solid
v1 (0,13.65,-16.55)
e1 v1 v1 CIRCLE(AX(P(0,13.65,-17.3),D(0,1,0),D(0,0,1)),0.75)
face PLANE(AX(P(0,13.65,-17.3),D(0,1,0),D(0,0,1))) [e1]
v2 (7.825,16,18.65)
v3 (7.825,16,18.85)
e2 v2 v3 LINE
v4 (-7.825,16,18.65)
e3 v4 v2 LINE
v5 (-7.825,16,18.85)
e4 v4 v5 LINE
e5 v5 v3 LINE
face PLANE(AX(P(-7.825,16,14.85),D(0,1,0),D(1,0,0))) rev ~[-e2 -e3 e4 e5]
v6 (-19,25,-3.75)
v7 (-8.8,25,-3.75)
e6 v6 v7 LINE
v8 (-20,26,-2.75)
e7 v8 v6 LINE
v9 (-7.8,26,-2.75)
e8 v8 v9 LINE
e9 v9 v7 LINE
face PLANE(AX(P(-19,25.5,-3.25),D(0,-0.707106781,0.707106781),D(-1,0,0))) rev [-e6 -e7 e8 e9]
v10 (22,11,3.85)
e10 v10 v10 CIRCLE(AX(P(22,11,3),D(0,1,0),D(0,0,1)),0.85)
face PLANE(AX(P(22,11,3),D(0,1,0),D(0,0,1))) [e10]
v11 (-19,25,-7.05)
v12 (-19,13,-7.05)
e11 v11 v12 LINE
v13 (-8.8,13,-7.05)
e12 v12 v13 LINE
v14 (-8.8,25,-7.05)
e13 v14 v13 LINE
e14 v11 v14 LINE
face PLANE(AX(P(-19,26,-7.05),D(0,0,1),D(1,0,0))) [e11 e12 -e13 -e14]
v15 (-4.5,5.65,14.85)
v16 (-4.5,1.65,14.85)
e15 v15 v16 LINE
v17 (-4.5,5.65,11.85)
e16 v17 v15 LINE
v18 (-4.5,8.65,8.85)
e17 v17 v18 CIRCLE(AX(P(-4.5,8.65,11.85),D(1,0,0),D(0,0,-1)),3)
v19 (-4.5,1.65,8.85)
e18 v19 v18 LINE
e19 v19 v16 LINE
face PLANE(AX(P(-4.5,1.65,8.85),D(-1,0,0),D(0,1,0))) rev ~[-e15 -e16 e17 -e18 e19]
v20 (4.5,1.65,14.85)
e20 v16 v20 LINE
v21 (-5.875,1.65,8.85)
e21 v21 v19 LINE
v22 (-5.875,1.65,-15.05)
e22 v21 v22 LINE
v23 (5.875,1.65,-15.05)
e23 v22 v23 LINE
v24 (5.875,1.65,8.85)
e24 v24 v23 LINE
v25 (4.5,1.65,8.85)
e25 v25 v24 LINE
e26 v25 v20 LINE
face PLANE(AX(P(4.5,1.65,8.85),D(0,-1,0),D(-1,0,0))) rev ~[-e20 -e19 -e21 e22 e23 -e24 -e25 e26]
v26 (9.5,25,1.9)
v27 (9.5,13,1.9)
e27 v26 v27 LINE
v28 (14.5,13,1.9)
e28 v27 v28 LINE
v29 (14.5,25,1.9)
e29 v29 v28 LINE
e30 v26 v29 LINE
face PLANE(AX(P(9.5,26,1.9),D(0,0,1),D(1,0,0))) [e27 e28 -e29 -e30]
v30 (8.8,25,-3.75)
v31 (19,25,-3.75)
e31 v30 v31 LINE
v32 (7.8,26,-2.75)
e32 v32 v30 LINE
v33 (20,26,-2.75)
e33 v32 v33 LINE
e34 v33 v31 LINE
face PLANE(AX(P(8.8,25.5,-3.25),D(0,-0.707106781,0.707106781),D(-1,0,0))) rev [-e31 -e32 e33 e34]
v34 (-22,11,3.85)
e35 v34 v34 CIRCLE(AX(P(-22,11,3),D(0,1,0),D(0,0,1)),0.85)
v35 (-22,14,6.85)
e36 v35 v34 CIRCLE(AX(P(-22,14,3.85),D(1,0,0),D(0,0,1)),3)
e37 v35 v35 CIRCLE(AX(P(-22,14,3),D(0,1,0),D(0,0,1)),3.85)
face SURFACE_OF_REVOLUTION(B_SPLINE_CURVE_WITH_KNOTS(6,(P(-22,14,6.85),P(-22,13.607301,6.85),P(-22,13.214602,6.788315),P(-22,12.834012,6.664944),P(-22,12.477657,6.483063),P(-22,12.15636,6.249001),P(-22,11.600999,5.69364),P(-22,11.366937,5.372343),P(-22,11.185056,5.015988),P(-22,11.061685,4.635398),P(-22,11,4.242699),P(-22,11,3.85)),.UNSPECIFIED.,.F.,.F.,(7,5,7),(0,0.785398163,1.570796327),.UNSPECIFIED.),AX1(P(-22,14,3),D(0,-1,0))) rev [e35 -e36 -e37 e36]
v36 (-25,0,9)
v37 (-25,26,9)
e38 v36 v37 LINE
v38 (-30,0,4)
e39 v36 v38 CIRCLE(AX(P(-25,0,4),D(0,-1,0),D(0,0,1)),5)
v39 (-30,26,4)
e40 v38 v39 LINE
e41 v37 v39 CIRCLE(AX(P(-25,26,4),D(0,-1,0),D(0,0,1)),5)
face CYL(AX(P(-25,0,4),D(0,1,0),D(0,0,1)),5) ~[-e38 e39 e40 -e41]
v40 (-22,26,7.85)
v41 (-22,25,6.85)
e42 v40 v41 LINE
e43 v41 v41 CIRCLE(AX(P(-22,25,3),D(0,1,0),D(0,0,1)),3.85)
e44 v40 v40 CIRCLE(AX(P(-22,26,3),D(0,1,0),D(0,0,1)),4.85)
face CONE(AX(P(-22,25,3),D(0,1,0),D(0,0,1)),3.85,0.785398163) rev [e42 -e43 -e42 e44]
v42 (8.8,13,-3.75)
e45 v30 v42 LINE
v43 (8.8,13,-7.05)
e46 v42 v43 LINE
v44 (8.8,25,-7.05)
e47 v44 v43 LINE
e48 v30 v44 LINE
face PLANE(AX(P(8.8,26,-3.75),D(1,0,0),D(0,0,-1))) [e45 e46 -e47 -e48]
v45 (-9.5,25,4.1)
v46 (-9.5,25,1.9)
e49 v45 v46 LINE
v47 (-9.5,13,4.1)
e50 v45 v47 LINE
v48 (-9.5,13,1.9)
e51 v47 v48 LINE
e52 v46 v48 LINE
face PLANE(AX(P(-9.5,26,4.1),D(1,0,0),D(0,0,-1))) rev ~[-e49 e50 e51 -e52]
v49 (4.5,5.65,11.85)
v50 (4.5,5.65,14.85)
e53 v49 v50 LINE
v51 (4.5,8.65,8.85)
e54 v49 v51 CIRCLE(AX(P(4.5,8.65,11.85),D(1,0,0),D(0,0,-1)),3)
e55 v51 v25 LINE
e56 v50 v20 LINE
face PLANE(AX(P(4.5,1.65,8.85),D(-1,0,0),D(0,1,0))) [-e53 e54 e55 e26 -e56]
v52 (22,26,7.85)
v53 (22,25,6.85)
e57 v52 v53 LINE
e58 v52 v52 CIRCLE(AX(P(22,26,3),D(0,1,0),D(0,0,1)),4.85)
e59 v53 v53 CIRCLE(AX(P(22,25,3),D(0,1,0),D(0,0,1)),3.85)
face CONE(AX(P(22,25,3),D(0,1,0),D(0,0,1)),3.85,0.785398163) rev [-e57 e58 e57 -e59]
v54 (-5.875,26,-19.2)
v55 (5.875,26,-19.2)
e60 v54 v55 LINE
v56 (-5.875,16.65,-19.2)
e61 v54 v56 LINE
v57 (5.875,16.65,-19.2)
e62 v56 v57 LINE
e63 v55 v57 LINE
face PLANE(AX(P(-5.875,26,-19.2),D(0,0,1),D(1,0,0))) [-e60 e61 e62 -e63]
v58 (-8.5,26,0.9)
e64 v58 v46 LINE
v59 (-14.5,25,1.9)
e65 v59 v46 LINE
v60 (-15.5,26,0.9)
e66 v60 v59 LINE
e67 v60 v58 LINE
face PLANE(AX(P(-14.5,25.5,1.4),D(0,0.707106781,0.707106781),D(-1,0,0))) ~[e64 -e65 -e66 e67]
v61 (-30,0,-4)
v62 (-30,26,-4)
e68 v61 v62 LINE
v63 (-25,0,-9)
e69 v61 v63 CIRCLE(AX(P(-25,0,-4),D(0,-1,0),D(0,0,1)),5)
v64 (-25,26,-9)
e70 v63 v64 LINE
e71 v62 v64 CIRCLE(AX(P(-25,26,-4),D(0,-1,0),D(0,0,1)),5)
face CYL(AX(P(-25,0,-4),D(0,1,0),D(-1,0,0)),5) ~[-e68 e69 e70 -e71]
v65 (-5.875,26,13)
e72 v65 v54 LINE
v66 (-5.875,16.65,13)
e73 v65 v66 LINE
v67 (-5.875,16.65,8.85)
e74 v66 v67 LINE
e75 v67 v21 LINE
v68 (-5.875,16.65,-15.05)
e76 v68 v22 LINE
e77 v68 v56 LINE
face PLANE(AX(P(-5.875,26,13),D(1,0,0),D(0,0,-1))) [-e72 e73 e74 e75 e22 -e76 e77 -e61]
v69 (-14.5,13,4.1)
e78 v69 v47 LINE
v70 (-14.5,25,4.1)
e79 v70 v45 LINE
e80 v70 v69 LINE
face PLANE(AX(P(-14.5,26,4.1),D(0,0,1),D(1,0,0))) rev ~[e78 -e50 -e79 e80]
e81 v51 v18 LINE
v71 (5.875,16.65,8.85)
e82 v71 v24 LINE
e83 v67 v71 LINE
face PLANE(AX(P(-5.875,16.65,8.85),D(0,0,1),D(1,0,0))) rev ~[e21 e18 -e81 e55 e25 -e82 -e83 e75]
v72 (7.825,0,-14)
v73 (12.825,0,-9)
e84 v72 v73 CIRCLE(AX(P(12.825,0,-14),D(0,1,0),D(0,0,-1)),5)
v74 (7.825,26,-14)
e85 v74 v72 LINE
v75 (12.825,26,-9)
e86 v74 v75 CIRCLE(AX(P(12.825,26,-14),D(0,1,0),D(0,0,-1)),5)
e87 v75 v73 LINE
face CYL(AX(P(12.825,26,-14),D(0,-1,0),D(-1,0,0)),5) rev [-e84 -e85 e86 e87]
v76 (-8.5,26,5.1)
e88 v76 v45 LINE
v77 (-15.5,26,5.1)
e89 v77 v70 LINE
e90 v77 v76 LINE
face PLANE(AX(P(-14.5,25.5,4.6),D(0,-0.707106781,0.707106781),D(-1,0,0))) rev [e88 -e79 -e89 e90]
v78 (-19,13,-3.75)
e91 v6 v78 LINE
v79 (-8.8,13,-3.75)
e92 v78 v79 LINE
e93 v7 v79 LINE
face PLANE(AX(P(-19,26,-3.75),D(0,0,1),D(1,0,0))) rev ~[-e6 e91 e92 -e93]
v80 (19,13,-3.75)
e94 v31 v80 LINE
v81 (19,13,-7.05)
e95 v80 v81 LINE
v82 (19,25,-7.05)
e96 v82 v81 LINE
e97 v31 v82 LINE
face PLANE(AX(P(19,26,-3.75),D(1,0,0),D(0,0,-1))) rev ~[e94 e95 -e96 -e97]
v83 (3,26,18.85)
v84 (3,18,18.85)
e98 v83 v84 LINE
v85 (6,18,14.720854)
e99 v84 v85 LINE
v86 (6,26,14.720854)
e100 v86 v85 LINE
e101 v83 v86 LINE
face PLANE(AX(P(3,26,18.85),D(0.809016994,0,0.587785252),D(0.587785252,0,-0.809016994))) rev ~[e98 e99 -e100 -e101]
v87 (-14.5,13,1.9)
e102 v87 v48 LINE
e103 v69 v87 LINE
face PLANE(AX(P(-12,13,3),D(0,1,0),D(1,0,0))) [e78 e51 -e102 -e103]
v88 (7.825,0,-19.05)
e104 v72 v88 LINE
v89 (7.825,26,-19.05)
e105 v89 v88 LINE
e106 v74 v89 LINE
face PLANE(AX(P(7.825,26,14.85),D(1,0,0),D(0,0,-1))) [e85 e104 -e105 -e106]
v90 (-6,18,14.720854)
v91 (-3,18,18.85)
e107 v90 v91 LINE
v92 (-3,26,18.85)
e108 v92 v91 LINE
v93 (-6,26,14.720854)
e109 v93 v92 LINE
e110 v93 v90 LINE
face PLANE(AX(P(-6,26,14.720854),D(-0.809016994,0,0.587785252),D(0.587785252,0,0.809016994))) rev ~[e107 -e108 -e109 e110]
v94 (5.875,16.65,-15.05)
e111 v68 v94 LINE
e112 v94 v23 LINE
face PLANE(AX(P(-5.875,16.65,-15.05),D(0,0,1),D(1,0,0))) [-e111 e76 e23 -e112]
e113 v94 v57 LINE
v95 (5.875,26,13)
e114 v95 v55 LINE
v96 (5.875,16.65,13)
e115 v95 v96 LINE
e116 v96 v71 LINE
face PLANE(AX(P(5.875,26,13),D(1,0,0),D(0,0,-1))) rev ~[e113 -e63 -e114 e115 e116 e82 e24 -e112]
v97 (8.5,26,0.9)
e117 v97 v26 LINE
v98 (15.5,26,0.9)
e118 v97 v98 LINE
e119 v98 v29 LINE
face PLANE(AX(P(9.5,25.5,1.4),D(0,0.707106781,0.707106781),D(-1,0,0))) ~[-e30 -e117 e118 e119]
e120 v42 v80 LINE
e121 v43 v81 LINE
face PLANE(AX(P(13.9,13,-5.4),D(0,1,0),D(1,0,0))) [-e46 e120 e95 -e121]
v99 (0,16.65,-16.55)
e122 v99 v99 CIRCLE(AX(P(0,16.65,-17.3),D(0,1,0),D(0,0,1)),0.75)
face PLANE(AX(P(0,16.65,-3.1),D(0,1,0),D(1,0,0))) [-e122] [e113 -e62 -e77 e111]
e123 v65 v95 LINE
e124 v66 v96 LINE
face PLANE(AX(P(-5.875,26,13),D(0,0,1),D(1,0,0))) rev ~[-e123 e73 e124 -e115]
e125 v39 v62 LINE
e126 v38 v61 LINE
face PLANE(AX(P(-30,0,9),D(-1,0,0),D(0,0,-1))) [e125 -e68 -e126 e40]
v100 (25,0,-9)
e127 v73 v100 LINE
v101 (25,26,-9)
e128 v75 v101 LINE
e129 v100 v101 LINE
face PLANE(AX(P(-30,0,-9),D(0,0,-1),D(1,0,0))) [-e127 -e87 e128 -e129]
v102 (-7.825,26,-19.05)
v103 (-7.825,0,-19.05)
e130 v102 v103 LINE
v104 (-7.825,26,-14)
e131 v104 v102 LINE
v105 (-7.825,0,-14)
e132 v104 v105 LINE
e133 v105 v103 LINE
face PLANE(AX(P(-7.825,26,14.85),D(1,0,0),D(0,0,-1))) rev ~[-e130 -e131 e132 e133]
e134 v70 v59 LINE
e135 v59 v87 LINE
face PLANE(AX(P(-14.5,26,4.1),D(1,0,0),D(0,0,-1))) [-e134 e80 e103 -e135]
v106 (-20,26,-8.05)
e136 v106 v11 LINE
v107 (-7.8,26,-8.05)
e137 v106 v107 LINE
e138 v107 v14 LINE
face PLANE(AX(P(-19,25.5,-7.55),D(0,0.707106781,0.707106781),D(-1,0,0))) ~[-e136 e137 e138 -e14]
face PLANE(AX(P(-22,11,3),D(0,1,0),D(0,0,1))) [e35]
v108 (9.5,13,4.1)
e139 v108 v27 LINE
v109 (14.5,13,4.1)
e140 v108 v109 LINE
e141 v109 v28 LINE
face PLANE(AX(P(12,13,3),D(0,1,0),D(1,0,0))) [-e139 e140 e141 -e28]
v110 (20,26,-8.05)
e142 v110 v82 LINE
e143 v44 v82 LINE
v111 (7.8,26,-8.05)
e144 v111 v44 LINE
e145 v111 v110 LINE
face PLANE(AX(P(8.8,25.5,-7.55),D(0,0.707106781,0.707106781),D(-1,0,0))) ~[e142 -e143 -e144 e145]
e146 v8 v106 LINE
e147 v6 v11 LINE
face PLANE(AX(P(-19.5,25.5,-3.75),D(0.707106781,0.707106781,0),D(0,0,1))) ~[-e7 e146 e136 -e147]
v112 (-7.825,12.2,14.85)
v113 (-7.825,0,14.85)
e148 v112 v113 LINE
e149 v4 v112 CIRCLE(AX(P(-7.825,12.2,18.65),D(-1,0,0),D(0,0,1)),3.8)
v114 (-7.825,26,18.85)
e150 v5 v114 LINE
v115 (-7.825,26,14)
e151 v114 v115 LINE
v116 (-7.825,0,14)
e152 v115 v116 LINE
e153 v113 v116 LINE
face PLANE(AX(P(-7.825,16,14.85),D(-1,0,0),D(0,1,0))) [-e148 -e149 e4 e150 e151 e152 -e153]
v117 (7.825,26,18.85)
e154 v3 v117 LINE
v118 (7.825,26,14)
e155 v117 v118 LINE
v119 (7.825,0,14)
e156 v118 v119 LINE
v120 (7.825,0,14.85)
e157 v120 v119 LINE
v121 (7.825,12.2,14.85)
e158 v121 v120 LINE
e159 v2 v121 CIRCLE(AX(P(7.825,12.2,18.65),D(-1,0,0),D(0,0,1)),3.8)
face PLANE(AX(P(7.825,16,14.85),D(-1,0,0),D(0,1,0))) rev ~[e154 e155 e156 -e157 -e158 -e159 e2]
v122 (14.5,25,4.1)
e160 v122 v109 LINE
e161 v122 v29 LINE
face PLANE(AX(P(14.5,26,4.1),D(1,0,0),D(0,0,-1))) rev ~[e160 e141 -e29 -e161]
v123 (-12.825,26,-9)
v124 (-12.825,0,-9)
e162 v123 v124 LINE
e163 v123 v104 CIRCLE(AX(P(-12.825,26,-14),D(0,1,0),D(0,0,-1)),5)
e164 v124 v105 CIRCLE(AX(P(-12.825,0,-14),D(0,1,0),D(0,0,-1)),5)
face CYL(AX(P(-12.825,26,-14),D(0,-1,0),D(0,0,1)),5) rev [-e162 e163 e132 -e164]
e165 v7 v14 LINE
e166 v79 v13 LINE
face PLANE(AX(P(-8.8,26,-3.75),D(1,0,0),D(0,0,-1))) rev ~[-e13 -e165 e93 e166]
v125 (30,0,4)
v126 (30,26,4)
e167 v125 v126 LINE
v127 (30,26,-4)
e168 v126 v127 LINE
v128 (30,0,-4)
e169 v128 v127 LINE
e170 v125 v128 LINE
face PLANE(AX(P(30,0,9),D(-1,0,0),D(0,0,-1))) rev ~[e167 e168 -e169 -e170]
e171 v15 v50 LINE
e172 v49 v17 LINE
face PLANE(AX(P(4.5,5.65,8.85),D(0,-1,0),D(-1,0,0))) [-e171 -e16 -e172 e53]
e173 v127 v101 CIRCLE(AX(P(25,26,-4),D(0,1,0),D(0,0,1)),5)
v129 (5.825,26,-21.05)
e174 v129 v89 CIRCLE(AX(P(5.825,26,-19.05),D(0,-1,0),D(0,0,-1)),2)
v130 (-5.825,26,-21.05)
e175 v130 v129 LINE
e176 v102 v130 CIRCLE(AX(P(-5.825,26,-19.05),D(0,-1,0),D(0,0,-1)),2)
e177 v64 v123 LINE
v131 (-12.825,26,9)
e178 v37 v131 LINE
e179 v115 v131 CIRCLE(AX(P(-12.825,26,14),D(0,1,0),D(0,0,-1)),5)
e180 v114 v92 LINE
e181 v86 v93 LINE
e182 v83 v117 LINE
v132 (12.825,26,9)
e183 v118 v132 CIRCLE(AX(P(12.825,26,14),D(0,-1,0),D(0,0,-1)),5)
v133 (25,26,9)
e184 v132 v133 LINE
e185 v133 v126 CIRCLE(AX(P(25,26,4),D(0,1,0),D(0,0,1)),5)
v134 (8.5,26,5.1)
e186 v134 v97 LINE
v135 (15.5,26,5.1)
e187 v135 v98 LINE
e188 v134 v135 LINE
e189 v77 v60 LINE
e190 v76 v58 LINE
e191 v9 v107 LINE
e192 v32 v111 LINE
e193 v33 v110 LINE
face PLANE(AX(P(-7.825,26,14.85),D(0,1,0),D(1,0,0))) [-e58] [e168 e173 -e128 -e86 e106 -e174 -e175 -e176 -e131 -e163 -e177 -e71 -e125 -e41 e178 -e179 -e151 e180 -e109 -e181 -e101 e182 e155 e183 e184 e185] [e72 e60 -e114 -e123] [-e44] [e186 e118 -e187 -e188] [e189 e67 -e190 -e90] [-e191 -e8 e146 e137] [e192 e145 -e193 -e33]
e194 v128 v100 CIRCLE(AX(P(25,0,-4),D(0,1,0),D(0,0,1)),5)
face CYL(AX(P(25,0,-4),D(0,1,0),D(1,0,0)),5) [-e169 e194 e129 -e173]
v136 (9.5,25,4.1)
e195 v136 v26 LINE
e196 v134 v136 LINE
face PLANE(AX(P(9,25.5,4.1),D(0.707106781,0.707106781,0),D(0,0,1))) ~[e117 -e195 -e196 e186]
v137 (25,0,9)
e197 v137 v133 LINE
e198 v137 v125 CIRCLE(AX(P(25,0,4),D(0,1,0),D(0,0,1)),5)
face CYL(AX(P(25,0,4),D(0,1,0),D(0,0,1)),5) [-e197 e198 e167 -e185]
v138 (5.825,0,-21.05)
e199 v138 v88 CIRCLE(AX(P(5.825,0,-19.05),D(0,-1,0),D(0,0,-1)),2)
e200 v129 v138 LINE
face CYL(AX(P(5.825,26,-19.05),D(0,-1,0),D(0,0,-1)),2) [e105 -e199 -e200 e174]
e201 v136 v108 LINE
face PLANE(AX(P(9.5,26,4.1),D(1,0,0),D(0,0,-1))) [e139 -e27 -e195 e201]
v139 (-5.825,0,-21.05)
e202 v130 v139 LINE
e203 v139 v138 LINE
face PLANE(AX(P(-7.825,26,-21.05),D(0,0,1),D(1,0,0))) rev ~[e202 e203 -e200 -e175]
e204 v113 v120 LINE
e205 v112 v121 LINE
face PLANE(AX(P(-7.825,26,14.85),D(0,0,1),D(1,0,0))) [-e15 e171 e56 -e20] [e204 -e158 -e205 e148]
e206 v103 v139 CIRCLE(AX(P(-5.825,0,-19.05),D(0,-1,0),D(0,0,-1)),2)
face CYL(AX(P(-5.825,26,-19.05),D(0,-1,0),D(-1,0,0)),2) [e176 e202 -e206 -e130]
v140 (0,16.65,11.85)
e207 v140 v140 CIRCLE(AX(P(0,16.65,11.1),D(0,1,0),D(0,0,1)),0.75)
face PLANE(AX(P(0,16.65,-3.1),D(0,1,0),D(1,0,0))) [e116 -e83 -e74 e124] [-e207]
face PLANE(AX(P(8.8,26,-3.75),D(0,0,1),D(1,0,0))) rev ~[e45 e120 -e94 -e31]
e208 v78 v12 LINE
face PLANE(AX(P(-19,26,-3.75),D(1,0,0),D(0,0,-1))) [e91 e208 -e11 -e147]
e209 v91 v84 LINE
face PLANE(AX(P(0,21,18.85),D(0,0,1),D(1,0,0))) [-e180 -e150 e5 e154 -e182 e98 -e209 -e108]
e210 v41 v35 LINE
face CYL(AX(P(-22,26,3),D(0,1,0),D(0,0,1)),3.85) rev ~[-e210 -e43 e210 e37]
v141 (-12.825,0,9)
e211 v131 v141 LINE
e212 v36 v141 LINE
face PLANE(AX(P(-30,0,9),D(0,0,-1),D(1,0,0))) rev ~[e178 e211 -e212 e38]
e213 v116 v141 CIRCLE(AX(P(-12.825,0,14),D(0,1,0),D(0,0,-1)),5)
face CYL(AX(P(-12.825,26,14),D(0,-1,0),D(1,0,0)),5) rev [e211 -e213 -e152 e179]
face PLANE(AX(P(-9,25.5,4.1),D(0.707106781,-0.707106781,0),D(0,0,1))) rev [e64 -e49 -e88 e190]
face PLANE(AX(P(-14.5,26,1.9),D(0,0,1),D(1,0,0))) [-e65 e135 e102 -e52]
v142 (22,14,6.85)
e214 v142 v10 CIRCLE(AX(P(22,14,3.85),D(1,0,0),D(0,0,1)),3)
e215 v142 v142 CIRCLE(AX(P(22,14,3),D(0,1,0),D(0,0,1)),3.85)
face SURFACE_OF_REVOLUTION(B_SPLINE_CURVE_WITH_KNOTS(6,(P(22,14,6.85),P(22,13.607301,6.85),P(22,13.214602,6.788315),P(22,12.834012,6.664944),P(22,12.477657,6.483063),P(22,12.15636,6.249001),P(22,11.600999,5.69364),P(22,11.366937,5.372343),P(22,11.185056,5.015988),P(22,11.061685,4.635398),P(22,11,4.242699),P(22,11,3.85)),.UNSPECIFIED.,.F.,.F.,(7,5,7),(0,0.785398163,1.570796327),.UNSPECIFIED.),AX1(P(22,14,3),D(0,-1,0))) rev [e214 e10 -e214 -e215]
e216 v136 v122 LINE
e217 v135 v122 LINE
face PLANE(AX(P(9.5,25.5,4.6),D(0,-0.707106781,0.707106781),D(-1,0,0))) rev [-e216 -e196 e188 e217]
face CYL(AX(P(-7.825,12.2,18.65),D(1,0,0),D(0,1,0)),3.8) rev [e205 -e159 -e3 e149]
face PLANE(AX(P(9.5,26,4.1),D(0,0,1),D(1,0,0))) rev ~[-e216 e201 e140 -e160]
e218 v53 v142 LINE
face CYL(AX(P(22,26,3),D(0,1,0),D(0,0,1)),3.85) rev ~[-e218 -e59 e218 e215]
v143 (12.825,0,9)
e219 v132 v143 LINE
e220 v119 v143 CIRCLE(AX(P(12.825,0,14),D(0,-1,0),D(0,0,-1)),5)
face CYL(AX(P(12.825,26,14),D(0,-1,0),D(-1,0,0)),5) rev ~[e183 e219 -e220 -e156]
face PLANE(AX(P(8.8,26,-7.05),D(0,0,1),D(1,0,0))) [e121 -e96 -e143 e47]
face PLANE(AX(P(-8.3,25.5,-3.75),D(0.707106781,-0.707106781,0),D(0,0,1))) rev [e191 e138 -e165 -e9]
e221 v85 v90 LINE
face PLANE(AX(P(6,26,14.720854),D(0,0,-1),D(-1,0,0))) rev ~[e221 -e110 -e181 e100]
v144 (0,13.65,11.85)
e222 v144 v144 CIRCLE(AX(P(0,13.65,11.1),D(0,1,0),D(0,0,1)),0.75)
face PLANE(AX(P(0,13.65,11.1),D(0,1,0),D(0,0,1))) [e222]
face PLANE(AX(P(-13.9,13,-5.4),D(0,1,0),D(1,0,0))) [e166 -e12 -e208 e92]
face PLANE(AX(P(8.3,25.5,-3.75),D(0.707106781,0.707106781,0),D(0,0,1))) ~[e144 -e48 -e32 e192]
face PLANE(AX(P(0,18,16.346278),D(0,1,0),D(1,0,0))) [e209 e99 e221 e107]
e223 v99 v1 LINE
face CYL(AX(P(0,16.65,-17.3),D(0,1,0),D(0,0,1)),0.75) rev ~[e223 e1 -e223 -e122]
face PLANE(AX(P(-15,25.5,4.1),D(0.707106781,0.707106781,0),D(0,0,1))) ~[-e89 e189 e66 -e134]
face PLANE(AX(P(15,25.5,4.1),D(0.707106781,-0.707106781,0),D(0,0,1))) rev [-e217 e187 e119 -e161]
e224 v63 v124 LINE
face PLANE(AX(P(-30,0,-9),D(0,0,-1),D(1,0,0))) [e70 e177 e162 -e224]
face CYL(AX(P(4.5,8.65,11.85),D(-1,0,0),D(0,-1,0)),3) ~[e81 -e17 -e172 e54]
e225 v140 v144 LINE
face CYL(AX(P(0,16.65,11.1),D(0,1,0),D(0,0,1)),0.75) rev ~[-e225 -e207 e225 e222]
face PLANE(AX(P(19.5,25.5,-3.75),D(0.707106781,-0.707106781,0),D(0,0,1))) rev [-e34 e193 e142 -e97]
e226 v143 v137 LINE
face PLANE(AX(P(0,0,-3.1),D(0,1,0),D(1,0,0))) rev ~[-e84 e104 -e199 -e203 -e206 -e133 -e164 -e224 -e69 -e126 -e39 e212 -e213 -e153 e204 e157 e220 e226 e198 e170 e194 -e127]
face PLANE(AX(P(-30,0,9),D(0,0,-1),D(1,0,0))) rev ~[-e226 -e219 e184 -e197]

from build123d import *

# Parameters (mm, degrees)
SKETCH1_W             = 60
SKETCH1_H             = 18
BOSS_EXTRUDE1_DEPTH   = 26
SKETCH2_R             = 3.85
EYESHAFT_HOLES_DEPTH  = 15
EYESHAFT_FILLET_R     = 3
SKETCH5_W             = 5
SKETCH5_H             = 2.2
FRONT_LEG_HOLES_DEPTH = 13
SKETCH7_W             = 10.2
SKETCH7_H             = 3.3
BACK_LEGS_DEPTH       = 13
SKETCH18_W            = 15.65
SKETCH18_H            = 35.9
SERVO_BLOCK_DEPTH     = 26
SKETCH19_W            = 11.75
SKETCH19_H            = 32.2
SERVO_ARMS_DEPTH      = 9.35
SKETCH20_W            = 11.75
SKETCH20_H            = 23.9
CUT_EXTRUDE10_DEPTH   = 15
FILLET4_R             = 5
CHAMFER1_SIZE         = 1
SKETCH21_W            = 9
SKETCH21_H            = 4
CUT_EXTRUDE11_DEPTH   = 15
FILLET5_R             = 3
SKETCH22_R            = 0.75
CUT_EXTRUDE12_DEPTH   = 3
FILLET6_R             = 5
SKETCH23_W            = 15.65
SKETCH23_H            = 10
BOSS_EXTRUDE3_DEPTH   = 4
DOVE_TAIL_DEPTH       = 8
FILLET8_R             = 3.8
FILLET9_R             = 2


with BuildPart() as part:
    # Sketch1 → Boss-Extrude1 (new body)
    with BuildSketch(Plane(origin=(0, 0, 0), x_dir=(1, 0, 0), z_dir=(0, 1, 0))):
        Rectangle(SKETCH1_W, SKETCH1_H)
    extrude(amount=BOSS_EXTRUDE1_DEPTH)

    # Sketch2 → Eyeshaft holes (cut)
    with BuildSketch(Plane(origin=(0, 26, 0), x_dir=(1, 0, 0), z_dir=(0, 1, 0))):
        with Locations(Location((-22, -3, 0), (0, 0, 270))):
            Circle(SKETCH2_R)
        with Locations(Location((22, -3, 0), (0, 0, 270))):
            Circle(SKETCH2_R)
    extrude(amount=-EYESHAFT_HOLES_DEPTH, mode=Mode.SUBTRACT)

    # Eyeshaft Fillet
    eyeshaft_fillet_edges = [part.edges().sort_by_distance(p)[0] for p in [
        (-22, 11, -0.85),
        (22, 11, -0.85),
    ]]
    fillet(eyeshaft_fillet_edges, radius=EYESHAFT_FILLET_R)

    # Sketch5 → Front leg holes (cut)
    with BuildSketch(Plane(origin=(0, 26, 0), x_dir=(1, 0, 0), z_dir=(0, 1, 0))):
        with Locations((-12, -3)):
            Rectangle(SKETCH5_W, SKETCH5_H)
        with Locations((12, -3)):
            Rectangle(SKETCH5_W, SKETCH5_H)
    extrude(amount=-FRONT_LEG_HOLES_DEPTH, mode=Mode.SUBTRACT)

    # Sketch7 → Back Legs (cut)
    with BuildSketch(Plane(origin=(0, 26, 0), x_dir=(1, 0, 0), z_dir=(0, 1, 0))):
        with Locations((-13.9, 5.4)):
            Rectangle(SKETCH7_W, SKETCH7_H)
        with Locations((13.9, 5.4)):
            Rectangle(SKETCH7_W, SKETCH7_H)
    extrude(amount=-BACK_LEGS_DEPTH, mode=Mode.SUBTRACT)

    # Sketch18 → Servo Block (add)
    with BuildSketch(Plane(origin=(0, 26, 0), x_dir=(1, 0, 0), z_dir=(0, 1, 0))):
        with Locations((0, 3.1)):
            Rectangle(SKETCH18_W, SKETCH18_H)
    extrude(amount=-SERVO_BLOCK_DEPTH)

    # Sketch19 → Servo Arms (cut)
    with BuildSketch(Plane(origin=(0, 26, 0), x_dir=(1, 0, 0), z_dir=(0, 1, 0))):
        with Locations((0, 3.1)):
            Rectangle(SKETCH19_W, SKETCH19_H)
    extrude(amount=-SERVO_ARMS_DEPTH, mode=Mode.SUBTRACT)

    # Sketch20 → Cut-Extrude10 (cut)
    with BuildSketch(Plane(origin=(0, 16.65, 0), x_dir=(1, 0, 0), z_dir=(0, 1, 0))):
        with Locations((0, 3.1)):
            Rectangle(SKETCH20_W, SKETCH20_H)
    extrude(amount=-CUT_EXTRUDE10_DEPTH, mode=Mode.SUBTRACT)

    # Fillet4
    fillet4_edges = [part.edges().sort_by_distance(p)[0] for p in [
        (30, 13, 9),
        (-30, 13, 9),
        (-30, 13, -9),
        (30, 13, -9),
    ]]
    fillet(fillet4_edges, radius=FILLET4_R)

    # Chamfer1
    chamfer1_edges = [part.edges().sort_by_distance(p)[0] for p in [
        (-22, 26, -0.85),
        (22, 26, -0.85),
        (-9.5, 26, 3),
        (-12, 26, 1.9),
        (-14.5, 26, 3),
        (-12, 26, 4.1),
        (14.5, 26, 3),
        (12, 26, 1.9),
        (9.5, 26, 3),
        (12, 26, 4.1),
        (-19, 26, -5.4),
        (-13.9, 26, -3.75),
        (-8.8, 26, -5.4),
        (-13.9, 26, -7.05),
        (8.8, 26, -5.4),
        (13.9, 26, -3.75),
        (19, 26, -5.4),
        (13.9, 26, -7.05),
    ]]
    chamfer(chamfer1_edges, length=CHAMFER1_SIZE)

    # Sketch21 → Cut-Extrude11 (cut)
    with BuildSketch(Plane(origin=(0, 0, 8.85), x_dir=(-1, 0, 0), z_dir=(0, 0, -1))):
        with Locations((0, 3.65)):
            Rectangle(SKETCH21_W, SKETCH21_H)
    extrude(amount=-CUT_EXTRUDE11_DEPTH, mode=Mode.SUBTRACT)

    # Fillet5
    fillet5_edges = [part.edges().sort_by_distance(p)[0] for p in [
        (0, 5.65, 8.85),
    ]]
    fillet(fillet5_edges, radius=FILLET5_R)

    # Sketch22 → Cut-Extrude12 (cut)
    with BuildSketch(Plane(origin=(0, 16.65, 0), x_dir=(1, 0, 0), z_dir=(0, 1, 0))):
        with Locations(Location((0, 17.3, 0), (0, 0, 270))):
            Circle(SKETCH22_R)
        with Locations(Location((0, -11.1, 0), (0, 0, 270))):
            Circle(SKETCH22_R)
    extrude(amount=-CUT_EXTRUDE12_DEPTH, mode=Mode.SUBTRACT)

    # Fillet6
    fillet6_edges = [part.edges().sort_by_distance(p)[0] for p in [
        (-7.825, 13, -9),
        (-7.825, 13, 9),
        (7.825, 13, -9),
        (7.825, 13, 9),
    ]]
    fillet(fillet6_edges, radius=FILLET6_R)

    # Sketch23 → Boss-Extrude3 (add)
    with BuildSketch(Plane.XY.offset(14.85)):
        with Locations((0, 21)):
            Rectangle(SKETCH23_W, SKETCH23_H)
    extrude(amount=BOSS_EXTRUDE3_DEPTH)

    # Sketch24 → Dove tail (cut)
    with BuildSketch(Plane(origin=(0, 26, 0), x_dir=(1, 0, 0), z_dir=(0, 1, 0))):
        Polygon((6, -14.720854239), (-6, -14.720854239), (-3, -18.85), (3, -18.85), align=None)
    extrude(amount=-DOVE_TAIL_DEPTH, mode=Mode.SUBTRACT)

    # Fillet8
    fillet8_edges = [part.edges().sort_by_distance(p)[0] for p in [
        (0, 16, 14.85),
    ]]
    fillet(fillet8_edges, radius=FILLET8_R)

    # Fillet9
    fillet9_edges = [part.edges().sort_by_distance(p)[0] for p in [
        (7.825, 13, -21.05),
        (-7.825, 13, -21.05),
    ]]
    fillet(fillet9_edges, radius=FILLET9_R)


solid = part.part
